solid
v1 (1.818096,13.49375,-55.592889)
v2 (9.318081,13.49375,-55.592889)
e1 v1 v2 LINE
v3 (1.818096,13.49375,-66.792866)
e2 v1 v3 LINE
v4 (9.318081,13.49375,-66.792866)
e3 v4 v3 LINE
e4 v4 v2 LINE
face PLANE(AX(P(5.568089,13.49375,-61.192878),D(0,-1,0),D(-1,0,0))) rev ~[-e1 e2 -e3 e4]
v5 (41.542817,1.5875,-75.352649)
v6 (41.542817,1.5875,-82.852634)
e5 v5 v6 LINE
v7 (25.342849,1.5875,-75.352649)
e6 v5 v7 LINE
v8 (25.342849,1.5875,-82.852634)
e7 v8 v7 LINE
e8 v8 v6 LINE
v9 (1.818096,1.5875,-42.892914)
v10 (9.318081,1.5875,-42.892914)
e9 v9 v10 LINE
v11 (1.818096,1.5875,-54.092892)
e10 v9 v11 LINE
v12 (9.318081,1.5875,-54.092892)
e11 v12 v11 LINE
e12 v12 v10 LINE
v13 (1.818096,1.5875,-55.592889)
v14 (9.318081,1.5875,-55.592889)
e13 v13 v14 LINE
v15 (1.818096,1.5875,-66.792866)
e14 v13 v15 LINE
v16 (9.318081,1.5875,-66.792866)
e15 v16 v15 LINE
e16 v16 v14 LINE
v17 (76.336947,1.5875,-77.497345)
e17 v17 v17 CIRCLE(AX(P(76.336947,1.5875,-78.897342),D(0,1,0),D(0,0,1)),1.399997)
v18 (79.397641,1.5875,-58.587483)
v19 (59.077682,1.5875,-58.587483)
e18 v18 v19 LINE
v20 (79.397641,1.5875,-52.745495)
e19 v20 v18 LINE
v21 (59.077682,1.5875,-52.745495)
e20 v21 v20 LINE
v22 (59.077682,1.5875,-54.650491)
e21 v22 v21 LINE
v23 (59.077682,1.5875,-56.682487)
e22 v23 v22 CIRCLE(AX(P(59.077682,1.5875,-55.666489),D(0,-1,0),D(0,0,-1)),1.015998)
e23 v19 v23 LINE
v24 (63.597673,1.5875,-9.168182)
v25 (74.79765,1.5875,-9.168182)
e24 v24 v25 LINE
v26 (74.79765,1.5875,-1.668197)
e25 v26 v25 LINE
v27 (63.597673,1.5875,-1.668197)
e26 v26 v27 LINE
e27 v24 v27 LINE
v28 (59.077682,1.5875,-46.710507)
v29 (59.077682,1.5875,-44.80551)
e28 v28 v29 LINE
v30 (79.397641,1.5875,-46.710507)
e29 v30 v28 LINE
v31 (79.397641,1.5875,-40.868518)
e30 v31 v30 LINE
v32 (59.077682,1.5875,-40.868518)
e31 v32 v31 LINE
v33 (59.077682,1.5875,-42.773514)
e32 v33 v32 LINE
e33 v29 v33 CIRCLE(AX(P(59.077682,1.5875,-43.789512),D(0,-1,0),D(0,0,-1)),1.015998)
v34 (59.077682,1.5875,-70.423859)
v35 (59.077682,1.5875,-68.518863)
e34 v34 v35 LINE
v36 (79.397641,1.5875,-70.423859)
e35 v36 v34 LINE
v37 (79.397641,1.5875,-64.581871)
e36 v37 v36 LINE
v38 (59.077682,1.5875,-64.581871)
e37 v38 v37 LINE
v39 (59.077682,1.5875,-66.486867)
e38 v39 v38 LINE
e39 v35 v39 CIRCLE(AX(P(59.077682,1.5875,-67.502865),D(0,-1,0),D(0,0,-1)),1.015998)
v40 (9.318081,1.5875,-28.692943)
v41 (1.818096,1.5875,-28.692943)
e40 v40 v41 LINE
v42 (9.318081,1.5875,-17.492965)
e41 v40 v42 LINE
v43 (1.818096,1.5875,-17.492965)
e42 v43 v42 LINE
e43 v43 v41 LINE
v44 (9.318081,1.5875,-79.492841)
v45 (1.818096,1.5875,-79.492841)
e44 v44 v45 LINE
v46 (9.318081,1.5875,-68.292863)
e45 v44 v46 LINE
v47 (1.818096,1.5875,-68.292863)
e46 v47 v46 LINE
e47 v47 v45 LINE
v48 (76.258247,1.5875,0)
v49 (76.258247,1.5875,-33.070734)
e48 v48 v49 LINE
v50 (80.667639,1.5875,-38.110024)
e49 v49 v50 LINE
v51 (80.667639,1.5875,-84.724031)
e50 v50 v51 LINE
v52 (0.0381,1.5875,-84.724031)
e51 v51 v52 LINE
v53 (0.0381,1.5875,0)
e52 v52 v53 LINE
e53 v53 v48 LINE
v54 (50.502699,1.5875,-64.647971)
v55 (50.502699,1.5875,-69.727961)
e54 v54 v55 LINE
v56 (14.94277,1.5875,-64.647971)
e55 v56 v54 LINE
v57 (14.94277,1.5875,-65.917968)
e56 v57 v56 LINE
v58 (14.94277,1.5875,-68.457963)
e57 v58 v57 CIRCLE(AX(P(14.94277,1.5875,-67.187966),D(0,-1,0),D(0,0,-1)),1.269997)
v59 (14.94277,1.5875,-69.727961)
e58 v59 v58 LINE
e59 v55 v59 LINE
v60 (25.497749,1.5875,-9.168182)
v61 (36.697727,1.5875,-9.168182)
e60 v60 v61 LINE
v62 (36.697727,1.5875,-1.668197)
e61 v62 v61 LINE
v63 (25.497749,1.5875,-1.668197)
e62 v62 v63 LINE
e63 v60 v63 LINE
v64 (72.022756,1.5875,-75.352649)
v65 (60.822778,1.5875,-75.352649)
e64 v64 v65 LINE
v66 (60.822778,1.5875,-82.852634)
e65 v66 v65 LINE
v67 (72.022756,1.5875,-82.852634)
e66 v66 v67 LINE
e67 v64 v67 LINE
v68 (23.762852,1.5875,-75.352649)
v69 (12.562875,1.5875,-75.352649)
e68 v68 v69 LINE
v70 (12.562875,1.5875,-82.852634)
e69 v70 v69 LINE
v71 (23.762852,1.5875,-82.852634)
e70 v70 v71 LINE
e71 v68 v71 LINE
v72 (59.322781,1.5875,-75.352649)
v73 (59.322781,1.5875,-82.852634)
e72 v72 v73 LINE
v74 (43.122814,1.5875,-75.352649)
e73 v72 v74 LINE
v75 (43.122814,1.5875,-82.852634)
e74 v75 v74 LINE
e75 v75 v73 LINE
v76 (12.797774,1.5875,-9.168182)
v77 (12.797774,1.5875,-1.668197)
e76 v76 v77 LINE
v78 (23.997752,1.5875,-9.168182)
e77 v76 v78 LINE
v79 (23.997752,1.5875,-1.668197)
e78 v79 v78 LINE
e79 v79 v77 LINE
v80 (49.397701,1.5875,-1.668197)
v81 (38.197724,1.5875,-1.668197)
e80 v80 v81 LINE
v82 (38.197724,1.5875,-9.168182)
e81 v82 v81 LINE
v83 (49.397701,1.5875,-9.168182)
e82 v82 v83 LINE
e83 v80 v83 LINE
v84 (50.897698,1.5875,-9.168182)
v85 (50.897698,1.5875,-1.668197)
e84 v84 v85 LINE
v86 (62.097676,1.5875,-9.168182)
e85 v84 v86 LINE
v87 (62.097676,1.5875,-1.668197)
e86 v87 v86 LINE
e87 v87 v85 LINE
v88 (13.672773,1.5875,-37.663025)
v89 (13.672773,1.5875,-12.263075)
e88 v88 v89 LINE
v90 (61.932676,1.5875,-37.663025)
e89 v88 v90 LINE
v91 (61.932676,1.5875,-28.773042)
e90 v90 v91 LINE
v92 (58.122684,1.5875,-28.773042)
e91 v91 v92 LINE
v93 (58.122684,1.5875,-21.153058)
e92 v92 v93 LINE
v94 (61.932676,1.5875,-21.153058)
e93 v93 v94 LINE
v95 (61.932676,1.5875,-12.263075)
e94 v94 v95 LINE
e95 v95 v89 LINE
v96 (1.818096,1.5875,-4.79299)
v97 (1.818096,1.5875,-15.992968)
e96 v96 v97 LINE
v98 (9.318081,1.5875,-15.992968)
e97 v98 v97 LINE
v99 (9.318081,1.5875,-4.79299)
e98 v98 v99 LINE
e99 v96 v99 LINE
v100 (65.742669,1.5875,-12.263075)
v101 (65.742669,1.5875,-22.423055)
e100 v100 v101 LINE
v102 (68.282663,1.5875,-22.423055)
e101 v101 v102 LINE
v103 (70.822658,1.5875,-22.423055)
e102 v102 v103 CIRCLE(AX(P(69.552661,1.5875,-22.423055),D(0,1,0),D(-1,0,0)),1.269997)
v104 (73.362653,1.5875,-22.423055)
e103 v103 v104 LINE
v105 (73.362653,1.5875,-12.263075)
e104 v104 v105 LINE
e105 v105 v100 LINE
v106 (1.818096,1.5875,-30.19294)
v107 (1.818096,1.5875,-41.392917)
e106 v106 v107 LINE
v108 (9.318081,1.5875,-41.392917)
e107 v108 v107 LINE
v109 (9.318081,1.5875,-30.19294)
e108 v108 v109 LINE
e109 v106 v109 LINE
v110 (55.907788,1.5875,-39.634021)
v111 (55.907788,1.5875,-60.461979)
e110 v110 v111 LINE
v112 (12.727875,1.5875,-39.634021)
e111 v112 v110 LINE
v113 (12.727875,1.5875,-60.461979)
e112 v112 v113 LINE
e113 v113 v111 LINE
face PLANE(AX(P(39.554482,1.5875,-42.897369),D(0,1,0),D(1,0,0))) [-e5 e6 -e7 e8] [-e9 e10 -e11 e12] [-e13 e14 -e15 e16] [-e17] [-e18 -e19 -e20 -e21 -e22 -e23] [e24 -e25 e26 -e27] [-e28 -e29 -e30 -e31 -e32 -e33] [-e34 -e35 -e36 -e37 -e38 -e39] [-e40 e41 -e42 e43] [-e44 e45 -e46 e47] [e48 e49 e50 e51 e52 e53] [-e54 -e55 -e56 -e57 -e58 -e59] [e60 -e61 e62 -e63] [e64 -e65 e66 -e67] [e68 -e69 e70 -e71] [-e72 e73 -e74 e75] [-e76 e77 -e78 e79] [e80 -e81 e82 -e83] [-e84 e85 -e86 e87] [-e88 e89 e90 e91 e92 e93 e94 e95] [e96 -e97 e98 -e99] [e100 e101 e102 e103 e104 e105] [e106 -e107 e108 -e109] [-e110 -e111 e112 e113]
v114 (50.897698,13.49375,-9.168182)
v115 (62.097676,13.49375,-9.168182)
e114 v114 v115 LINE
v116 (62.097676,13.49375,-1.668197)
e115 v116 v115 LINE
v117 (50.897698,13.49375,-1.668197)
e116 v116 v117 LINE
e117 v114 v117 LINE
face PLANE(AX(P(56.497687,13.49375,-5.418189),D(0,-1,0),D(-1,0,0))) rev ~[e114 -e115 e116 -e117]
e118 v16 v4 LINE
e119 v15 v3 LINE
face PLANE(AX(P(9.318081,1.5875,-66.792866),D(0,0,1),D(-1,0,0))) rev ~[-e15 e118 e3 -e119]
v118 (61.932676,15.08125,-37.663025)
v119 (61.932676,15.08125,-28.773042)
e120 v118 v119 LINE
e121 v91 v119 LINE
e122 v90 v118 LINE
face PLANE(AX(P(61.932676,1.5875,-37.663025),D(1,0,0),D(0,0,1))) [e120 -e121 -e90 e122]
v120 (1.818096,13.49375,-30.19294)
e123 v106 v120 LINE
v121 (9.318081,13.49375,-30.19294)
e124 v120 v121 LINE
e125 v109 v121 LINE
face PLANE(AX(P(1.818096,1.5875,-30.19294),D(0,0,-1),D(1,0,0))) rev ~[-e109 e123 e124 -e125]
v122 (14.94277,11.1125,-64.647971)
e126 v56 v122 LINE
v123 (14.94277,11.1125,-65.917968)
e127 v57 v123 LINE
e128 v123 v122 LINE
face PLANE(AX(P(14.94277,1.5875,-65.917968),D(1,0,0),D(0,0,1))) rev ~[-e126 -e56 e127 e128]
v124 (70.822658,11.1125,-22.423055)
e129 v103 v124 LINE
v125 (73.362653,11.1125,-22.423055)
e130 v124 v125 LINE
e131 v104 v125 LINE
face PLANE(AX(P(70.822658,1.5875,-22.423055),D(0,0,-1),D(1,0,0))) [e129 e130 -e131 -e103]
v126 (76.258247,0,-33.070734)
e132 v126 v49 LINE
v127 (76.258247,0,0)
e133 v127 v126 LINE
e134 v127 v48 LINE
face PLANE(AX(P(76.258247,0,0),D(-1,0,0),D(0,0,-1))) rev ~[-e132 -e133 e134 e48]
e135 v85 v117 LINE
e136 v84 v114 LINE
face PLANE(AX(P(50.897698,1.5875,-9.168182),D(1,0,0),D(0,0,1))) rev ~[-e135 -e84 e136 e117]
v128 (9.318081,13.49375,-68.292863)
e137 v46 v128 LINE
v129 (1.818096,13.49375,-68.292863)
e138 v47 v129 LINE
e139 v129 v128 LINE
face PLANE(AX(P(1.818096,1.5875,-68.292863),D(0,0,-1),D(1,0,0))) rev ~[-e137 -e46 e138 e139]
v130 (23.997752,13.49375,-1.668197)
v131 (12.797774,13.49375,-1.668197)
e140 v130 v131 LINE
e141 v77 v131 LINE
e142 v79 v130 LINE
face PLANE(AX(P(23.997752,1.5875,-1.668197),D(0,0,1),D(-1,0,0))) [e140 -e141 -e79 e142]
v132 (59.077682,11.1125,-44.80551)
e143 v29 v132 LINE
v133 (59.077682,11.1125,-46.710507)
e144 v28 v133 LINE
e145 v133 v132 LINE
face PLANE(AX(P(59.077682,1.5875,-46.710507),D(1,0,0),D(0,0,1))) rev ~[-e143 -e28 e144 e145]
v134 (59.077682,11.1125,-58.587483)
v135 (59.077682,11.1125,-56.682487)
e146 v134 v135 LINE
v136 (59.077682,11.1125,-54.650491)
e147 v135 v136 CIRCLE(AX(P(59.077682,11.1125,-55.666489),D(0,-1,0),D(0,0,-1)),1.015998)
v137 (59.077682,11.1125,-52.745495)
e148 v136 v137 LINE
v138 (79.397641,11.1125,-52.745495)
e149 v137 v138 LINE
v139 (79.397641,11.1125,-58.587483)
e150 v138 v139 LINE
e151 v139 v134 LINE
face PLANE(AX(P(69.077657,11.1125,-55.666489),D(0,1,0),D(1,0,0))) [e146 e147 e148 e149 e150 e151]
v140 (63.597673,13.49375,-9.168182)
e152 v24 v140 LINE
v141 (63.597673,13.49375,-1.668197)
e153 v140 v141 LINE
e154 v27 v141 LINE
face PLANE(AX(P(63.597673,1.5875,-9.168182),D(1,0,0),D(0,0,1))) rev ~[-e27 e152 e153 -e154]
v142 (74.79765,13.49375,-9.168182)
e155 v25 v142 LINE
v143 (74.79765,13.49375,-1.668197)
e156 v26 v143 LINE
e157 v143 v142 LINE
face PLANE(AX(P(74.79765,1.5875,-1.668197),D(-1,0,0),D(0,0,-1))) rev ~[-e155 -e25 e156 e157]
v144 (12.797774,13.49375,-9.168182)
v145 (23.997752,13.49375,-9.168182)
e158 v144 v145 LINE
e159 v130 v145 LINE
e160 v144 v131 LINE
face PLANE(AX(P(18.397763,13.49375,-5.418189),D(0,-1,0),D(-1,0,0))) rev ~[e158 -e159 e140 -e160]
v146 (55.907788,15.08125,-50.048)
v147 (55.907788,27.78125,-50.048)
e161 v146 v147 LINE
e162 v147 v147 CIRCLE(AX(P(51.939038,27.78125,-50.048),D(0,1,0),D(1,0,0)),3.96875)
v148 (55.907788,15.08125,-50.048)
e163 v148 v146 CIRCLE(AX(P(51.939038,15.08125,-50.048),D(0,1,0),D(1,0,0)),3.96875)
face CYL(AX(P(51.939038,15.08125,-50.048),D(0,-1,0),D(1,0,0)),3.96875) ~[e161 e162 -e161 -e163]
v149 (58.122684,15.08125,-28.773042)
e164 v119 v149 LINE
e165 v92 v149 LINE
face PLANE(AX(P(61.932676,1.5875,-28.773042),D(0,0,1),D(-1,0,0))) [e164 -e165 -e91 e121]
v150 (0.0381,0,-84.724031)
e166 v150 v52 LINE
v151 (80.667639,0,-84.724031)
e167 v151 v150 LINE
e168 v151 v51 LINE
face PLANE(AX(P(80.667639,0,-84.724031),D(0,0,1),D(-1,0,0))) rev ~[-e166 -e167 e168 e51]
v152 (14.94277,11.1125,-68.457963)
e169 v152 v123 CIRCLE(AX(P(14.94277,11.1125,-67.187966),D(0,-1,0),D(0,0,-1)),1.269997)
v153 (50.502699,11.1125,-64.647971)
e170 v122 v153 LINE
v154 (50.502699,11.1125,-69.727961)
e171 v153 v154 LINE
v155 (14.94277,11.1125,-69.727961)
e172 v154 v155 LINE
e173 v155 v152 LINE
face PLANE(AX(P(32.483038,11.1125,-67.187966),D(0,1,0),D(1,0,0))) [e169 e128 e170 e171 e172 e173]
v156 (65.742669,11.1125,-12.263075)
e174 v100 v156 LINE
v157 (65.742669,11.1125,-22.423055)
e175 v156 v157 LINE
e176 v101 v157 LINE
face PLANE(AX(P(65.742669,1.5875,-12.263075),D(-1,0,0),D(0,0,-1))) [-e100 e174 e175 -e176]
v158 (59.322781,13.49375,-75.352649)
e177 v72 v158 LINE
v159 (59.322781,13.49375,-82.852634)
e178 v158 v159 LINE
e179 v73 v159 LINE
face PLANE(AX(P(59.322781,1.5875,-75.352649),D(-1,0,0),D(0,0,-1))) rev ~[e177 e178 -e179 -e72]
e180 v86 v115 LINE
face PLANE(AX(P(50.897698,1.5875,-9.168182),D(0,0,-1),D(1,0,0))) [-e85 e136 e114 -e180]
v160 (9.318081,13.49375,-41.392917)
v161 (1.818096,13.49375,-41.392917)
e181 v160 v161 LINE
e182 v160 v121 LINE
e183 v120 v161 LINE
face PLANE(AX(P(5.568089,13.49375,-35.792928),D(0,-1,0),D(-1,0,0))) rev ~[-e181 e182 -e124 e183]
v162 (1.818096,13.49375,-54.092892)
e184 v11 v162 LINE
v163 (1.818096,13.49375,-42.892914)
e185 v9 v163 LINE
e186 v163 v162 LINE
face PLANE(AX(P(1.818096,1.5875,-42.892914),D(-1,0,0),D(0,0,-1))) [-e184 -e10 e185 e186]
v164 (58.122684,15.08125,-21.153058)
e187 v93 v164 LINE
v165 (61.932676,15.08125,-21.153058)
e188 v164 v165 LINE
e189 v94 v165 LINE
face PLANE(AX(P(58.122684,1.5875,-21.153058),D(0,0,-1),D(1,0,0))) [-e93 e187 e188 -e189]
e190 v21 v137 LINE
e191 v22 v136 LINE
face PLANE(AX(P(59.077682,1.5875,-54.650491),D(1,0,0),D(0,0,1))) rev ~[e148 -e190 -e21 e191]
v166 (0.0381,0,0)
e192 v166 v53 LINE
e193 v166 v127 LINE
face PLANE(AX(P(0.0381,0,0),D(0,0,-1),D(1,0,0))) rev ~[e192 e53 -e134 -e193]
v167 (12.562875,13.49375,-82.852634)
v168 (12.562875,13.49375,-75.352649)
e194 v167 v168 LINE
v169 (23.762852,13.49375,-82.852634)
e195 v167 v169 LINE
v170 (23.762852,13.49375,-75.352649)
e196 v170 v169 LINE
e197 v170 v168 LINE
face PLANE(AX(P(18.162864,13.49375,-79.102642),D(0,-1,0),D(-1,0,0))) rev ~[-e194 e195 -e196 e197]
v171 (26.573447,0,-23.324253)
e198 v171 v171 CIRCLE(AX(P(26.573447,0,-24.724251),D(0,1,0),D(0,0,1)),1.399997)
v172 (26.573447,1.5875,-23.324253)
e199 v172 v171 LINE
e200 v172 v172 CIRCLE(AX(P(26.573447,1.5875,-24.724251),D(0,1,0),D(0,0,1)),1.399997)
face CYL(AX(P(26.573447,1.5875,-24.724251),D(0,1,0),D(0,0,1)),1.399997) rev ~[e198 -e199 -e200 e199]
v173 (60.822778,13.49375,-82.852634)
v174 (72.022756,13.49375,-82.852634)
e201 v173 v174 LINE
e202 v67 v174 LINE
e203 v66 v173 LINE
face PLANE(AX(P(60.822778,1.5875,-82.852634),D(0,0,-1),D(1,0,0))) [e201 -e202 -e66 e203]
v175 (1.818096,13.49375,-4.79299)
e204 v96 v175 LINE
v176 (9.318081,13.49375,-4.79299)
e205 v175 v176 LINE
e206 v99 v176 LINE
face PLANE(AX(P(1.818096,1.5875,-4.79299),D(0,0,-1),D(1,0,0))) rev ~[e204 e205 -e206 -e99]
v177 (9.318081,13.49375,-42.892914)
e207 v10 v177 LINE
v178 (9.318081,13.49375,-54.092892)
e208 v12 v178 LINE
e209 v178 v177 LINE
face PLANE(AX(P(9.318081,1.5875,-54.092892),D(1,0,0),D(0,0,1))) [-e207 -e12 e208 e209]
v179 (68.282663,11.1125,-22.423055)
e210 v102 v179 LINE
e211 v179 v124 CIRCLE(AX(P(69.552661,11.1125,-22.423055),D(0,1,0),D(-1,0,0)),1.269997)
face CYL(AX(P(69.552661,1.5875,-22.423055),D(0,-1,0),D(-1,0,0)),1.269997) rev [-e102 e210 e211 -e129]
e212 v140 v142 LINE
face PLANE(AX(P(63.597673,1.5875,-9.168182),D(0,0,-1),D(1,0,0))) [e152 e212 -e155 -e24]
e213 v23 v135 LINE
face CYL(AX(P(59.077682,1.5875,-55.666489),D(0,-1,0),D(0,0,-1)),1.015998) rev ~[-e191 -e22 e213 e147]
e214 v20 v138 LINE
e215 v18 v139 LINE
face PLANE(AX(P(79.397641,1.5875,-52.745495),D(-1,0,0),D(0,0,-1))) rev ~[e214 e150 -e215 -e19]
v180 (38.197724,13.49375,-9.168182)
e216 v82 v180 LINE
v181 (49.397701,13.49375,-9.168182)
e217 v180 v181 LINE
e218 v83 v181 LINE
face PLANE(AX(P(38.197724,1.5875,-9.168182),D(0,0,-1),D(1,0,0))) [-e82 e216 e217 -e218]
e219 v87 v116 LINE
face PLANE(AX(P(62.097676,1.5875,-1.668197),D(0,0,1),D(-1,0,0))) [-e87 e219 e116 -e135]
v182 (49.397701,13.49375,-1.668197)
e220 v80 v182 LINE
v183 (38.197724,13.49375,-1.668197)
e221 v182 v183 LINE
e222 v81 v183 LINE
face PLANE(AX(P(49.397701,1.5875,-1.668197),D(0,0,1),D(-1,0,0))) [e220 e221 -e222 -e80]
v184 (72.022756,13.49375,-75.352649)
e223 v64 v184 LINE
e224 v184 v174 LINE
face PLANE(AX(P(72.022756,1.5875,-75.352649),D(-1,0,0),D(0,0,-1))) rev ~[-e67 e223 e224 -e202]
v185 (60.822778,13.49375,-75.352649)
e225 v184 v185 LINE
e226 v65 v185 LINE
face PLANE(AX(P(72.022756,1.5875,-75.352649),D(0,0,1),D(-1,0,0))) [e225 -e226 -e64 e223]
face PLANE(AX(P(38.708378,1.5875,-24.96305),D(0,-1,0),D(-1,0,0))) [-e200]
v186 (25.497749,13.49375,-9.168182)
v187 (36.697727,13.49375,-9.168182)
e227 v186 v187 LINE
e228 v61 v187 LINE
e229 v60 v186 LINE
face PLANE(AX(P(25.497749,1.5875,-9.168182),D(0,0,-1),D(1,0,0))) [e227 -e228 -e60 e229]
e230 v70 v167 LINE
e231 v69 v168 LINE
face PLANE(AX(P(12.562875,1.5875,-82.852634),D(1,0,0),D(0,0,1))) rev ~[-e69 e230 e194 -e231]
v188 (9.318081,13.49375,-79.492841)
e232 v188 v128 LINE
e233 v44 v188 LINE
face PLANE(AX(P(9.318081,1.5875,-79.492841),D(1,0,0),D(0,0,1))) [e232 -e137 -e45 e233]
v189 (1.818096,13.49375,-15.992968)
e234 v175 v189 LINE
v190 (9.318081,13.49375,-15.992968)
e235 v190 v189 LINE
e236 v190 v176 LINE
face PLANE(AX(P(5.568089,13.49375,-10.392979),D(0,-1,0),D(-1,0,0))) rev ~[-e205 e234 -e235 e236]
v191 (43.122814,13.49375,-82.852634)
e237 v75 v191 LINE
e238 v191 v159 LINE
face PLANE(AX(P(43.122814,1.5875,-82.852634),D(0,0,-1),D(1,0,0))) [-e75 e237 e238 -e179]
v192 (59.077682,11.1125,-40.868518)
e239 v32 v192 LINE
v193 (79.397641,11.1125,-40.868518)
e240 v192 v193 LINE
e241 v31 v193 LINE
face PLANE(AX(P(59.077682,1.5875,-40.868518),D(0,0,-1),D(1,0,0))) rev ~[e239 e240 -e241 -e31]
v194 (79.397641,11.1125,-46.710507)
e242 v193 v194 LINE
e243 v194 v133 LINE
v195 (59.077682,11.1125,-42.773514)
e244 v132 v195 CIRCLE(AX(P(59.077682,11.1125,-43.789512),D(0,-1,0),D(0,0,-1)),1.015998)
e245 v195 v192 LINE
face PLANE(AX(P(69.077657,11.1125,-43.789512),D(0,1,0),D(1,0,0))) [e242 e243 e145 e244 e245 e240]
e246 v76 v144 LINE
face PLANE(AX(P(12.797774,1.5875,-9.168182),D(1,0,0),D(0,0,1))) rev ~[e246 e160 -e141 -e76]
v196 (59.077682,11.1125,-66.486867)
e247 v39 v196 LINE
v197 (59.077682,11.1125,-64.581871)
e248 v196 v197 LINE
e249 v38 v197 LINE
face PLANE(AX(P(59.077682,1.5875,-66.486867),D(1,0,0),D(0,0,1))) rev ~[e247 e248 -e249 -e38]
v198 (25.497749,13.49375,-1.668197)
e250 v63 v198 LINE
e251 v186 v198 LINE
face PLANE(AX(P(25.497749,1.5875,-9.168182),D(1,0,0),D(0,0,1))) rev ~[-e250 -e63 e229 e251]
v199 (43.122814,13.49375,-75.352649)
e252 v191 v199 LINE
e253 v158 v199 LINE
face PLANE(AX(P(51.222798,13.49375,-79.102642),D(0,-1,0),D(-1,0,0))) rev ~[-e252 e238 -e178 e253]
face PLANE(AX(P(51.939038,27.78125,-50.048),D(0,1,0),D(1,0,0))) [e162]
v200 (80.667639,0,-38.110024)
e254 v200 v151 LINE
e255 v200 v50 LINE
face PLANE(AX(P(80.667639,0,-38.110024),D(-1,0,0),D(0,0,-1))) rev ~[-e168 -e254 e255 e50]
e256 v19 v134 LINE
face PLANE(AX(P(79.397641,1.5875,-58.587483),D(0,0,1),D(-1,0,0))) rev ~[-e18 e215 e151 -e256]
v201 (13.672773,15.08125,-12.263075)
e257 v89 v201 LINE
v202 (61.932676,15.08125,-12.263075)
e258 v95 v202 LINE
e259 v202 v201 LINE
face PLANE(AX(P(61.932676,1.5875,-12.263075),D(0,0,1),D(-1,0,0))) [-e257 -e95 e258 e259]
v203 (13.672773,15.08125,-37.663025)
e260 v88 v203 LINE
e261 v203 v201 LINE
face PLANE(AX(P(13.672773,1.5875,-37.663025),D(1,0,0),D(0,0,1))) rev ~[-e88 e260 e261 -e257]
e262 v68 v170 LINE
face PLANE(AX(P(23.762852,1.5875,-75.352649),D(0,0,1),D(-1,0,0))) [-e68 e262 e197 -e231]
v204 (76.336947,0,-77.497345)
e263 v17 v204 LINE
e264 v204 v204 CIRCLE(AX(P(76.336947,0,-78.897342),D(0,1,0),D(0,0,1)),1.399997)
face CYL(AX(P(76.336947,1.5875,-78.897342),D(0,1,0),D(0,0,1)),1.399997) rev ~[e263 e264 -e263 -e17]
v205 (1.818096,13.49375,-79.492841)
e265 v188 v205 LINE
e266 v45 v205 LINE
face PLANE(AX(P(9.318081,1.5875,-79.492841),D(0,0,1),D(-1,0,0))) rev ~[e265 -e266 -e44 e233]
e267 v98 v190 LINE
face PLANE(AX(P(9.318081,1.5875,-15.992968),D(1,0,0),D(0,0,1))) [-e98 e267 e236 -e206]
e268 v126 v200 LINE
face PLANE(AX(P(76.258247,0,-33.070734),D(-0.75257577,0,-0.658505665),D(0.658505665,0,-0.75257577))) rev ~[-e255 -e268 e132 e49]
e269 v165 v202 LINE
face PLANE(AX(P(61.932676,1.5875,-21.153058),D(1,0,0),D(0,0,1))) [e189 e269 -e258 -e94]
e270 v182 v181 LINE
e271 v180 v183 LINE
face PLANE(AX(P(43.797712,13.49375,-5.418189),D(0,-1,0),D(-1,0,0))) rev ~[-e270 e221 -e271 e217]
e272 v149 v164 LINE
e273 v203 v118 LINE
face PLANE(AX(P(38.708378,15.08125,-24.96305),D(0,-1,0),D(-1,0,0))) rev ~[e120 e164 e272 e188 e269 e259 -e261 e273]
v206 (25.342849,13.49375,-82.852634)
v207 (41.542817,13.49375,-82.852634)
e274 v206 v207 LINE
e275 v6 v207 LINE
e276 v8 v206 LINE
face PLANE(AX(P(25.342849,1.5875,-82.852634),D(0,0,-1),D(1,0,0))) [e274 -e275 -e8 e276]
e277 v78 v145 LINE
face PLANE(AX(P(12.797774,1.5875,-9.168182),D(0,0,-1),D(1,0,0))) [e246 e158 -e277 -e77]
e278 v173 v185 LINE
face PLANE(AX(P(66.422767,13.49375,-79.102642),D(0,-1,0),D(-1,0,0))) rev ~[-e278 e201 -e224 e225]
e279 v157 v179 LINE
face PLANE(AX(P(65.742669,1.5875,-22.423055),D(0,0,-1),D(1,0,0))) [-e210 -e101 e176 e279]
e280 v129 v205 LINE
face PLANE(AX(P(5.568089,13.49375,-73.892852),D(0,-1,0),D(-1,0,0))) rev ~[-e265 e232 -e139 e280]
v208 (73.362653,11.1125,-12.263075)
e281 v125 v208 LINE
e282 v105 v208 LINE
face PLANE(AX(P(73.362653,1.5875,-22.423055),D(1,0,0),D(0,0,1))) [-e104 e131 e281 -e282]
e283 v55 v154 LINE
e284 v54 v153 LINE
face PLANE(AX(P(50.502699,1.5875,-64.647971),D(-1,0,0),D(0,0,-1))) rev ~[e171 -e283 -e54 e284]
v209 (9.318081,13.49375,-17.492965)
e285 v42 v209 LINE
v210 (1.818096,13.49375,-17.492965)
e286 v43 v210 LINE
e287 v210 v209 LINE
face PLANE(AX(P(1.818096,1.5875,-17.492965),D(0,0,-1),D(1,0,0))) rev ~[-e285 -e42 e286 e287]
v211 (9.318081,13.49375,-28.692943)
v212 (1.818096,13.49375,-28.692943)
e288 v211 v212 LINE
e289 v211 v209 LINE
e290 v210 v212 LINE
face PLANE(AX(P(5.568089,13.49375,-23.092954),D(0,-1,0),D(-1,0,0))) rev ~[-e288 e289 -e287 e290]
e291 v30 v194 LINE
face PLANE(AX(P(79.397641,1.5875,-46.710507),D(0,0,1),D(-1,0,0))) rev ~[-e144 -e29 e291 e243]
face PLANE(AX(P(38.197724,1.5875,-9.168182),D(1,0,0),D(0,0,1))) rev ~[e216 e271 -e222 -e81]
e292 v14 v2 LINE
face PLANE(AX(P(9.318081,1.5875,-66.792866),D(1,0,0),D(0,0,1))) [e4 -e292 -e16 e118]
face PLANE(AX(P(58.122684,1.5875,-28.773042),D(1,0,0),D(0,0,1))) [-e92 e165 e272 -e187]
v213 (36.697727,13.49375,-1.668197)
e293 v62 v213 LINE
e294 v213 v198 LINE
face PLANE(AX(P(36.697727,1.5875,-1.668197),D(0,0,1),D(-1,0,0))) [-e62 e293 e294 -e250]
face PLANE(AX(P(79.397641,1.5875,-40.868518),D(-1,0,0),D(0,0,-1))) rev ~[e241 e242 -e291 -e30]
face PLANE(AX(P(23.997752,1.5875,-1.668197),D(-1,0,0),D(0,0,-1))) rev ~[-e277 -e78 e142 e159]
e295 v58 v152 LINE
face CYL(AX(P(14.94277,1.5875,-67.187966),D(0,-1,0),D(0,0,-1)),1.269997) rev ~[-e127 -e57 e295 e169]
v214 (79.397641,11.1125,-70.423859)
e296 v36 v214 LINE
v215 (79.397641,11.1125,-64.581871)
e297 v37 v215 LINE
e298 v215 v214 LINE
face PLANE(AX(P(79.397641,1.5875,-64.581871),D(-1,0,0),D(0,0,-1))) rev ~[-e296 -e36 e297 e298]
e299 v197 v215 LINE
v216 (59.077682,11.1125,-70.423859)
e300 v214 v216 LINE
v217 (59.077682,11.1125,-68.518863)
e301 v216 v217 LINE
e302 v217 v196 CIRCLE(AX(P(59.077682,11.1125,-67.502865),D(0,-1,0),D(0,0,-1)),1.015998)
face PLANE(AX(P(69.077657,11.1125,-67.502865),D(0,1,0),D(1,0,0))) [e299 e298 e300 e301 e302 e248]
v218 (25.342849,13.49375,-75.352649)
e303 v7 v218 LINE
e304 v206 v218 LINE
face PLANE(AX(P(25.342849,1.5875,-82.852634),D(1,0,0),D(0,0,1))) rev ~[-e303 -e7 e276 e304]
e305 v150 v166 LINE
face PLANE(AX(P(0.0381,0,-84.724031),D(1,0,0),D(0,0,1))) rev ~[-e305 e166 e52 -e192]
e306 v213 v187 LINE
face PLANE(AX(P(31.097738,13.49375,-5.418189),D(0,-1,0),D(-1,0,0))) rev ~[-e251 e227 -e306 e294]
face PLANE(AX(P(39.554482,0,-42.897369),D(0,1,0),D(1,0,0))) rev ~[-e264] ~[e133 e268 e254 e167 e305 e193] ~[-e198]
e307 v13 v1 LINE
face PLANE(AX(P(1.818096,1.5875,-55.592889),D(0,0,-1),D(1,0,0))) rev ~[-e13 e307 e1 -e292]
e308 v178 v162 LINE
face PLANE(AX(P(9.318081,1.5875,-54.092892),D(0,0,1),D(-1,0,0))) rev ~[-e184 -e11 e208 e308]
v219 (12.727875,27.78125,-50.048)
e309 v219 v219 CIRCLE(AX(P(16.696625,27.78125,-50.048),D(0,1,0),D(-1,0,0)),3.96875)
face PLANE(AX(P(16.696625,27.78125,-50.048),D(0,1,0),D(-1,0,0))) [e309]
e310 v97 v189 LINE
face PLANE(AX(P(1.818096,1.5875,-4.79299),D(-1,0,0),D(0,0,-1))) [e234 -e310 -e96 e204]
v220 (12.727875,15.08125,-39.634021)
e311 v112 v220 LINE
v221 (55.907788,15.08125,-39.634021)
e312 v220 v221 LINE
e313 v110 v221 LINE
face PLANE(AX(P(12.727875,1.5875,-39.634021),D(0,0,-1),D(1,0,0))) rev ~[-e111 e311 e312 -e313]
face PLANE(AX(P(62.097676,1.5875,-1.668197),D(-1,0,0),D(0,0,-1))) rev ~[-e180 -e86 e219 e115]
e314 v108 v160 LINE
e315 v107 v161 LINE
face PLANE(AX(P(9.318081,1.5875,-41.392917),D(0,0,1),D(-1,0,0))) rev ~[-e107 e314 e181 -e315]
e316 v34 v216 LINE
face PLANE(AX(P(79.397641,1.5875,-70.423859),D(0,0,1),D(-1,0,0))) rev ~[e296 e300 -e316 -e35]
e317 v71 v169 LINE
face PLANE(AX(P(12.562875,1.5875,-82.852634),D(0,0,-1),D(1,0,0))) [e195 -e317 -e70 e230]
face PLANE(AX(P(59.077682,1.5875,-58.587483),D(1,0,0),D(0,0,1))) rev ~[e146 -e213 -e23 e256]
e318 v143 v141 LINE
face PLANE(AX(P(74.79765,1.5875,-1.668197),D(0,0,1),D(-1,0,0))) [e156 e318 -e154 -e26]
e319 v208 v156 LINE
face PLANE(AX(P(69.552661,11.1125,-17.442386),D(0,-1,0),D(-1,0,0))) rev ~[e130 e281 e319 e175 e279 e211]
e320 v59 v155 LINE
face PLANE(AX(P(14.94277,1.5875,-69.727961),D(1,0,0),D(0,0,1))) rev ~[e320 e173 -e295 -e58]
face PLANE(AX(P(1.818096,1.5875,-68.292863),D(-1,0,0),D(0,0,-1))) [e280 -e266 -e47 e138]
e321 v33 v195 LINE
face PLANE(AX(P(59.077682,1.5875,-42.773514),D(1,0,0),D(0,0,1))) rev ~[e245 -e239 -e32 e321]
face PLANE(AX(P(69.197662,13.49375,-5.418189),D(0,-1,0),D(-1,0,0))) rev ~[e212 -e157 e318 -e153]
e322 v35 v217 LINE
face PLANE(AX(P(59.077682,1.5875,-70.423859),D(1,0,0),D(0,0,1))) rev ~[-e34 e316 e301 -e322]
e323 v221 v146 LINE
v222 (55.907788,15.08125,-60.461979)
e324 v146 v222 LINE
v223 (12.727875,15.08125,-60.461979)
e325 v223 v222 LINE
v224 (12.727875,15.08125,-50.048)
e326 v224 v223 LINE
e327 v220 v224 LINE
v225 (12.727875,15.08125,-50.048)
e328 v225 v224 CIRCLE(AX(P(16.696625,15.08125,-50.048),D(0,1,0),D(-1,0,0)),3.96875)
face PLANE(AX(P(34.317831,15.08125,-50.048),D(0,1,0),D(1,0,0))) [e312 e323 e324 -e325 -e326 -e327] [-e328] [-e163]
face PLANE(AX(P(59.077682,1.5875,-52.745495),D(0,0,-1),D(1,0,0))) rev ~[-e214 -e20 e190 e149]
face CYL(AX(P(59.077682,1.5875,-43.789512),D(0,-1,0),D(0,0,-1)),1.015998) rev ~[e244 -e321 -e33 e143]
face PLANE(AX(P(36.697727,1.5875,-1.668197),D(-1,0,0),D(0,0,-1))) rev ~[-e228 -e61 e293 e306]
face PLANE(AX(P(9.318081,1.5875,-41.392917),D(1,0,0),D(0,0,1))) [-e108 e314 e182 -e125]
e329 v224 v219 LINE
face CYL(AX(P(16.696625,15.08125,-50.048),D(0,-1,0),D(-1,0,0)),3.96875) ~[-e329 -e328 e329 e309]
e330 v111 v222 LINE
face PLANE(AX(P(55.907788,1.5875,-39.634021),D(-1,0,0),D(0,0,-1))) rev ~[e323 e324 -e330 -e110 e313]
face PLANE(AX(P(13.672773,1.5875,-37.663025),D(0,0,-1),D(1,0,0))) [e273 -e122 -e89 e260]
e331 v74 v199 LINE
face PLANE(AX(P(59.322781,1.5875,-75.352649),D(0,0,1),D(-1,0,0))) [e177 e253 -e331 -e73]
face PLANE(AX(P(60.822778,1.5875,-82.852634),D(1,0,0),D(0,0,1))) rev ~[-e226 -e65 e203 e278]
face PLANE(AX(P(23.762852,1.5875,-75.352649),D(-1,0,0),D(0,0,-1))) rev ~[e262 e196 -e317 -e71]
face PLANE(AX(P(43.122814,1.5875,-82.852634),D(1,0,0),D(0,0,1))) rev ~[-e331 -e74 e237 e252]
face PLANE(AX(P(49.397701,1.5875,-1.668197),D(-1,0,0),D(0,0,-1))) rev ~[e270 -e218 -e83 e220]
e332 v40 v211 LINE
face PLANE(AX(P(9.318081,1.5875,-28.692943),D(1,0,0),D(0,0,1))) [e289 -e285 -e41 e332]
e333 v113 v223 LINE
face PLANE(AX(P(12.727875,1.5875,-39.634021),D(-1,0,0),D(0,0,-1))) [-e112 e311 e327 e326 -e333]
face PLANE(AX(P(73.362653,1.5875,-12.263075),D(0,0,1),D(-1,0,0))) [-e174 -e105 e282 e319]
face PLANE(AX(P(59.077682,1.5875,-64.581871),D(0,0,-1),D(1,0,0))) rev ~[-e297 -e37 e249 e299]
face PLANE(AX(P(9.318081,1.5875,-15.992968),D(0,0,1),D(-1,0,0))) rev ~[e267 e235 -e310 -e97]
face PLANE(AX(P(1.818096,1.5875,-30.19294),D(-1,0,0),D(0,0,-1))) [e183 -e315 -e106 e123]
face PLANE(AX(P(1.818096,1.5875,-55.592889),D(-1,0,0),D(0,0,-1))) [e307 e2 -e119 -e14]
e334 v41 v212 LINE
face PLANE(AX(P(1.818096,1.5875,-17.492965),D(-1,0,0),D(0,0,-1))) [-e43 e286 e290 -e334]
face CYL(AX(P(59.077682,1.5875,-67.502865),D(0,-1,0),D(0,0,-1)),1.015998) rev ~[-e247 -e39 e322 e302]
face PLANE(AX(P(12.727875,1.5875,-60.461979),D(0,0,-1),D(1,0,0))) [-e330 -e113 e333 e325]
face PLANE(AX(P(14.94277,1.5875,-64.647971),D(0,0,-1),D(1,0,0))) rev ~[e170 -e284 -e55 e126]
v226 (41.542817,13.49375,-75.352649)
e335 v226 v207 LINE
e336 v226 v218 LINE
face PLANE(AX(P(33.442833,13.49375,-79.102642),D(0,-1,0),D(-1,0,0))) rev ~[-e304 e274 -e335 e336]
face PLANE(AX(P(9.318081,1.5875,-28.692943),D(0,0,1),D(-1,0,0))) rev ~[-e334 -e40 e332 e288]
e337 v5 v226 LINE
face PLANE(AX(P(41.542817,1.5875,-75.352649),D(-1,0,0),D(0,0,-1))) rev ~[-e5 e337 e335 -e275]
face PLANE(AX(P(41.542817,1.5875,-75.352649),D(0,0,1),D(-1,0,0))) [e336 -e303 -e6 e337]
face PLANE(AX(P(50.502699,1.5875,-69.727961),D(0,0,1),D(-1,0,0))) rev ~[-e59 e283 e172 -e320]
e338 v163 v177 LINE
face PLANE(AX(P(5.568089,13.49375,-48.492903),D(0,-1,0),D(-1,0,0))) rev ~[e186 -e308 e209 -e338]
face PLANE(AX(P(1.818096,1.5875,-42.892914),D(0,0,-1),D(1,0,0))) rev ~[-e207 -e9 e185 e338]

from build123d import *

# Parameters (mm, degrees)
BOSS_EXTRUDE1_DEPTH = 1.5875
SKETCH2_R           = 1.3999972
CUT_EXTRUDE1_DEPTH  = 117.995510328
BOSS_EXTRUDE2_DEPTH = 11.90625
SKETCH4_W           = 43.17991364
SKETCH4_H           = 20.827958344
BOSS_EXTRUDE3_DEPTH = 13.49375
SKETCH6_R           = 3.96875
BOSS_EXTRUDE4_DEPTH = 12.7
BOSS_EXTRUDE5_DEPTH = 9.525


with BuildPart() as part:
    # Sketch1 → Boss-Extrude1 (new body)
    with BuildSketch(Plane(origin=(0, 0, 0), x_dir=(1, 0, 0), z_dir=(0, 1, 0))):
        Polygon((0.038099924, 84.724030552), (0.038099924, 0), (76.258247483, 0), (76.258247483, 33.070733858), (80.667638664, 38.11002378), (80.667638664, 84.724030552), align=None)
    extrude(amount=BOSS_EXTRUDE1_DEPTH)

    # Sketch2 → Cut-Extrude1 (cut, through all)
    with BuildSketch(Plane(origin=(0, 1.5875, 0), x_dir=(1, 0, 0), z_dir=(0, 1, 0))):
        with Locations((76.336947326, 78.897342205)):
            Circle(SKETCH2_R)
        with Locations((26.573446853, 24.724250551)):
            Circle(SKETCH2_R)
    extrude(amount=-CUT_EXTRUDE1_DEPTH, mode=Mode.SUBTRACT)

    # Sketch3 → Boss-Extrude2 (add)
    with BuildSketch(Plane(origin=(0, 1.5875, 0), x_dir=(1, 0, 0), z_dir=(0, 1, 0))):
        Polygon((60.822778354, 75.352649294), (60.822778354, 81.852636294), (60.822778354, 82.852634294), (72.022755954, 82.852634294), (72.022755954, 81.852636294), (72.022755954, 75.352649294), align=None)
        Polygon((59.322781354, 82.852634294), (59.322781354, 81.852636294), (59.322781354, 75.352649294), (43.122813754, 75.352649294), (43.122813754, 81.852636294), (43.122813754, 82.852634294), align=None)
        Polygon((25.342849314, 75.352649294), (25.342849314, 81.852636294), (25.342849314, 82.852634294), (41.542816914, 82.852634294), (41.542816914, 81.852636294), (41.542816914, 75.352649294), align=None)
        Polygon((63.597672804, 1.668196664), (63.597672804, 2.668194664), (63.597672804, 9.168181664), (74.797650404, 9.168181664), (74.797650404, 2.668194664), (74.797650404, 1.668196664), align=None)
        Polygon((50.897698204, 1.668196664), (50.897698204, 2.668194664), (50.897698204, 9.168181664), (62.097675804, 9.168181664), (62.097675804, 2.668194664), (62.097675804, 1.668196664), align=None)
        Polygon((38.197723604, 1.668196664), (38.197723604, 2.668194664), (38.197723604, 9.168181664), (49.397701204, 9.168181664), (49.397701204, 2.668194664), (49.397701204, 1.668196664), align=None)
        Polygon((36.697726604, 9.168181664), (36.697726604, 2.668194664), (36.697726604, 1.668196664), (25.497749004, 1.668196664), (25.497749004, 2.668194664), (25.497749004, 9.168181664), align=None)
        Polygon((12.797774404, 1.668196664), (12.797774404, 2.668194664), (12.797774404, 9.168181664), (23.997752004, 9.168181664), (23.997752004, 2.668194664), (23.997752004, 1.668196664), align=None)
        Polygon((9.318081364, 4.792990414), (2.818094364, 4.792990414), (1.818096364, 4.792990414), (1.818096364, 15.992968014), (2.818094364, 15.992968014), (9.318081364, 15.992968014), align=None)
        Polygon((1.818096364, 28.692942614), (2.818094364, 28.692942614), (9.318081364, 28.692942614), (9.318081364, 17.492965014), (2.818094364, 17.492965014), (1.818096364, 17.492965014), align=None)
        Polygon((9.318081364, 30.192939614), (2.818094364, 30.192939614), (1.818096364, 30.192939614), (1.818096364, 41.392917214), (2.818094364, 41.392917214), (9.318081364, 41.392917214), align=None)
        Polygon((9.318081364, 42.892914214), (2.818094364, 42.892914214), (1.818096364, 42.892914214), (1.818096364, 54.092891814), (2.818094364, 54.092891814), (9.318081364, 54.092891814), align=None)
        Polygon((1.818096364, 66.792866414), (2.818094364, 66.792866414), (9.318081364, 66.792866414), (9.318081364, 55.592888814), (2.818094364, 55.592888814), (1.818096364, 55.592888814), align=None)
        Polygon((12.562874874, 75.352649294), (12.562874874, 81.852636294), (12.562874874, 82.852634294), (23.762852474, 82.852634294), (23.762852474, 81.852636294), (23.762852474, 75.352649294), align=None)
        Polygon((1.818096364, 79.492841014), (2.818094364, 79.492841014), (9.318081364, 79.492841014), (9.318081364, 68.292863414), (2.818094364, 68.292863414), (1.818096364, 68.292863414), align=None)
    extrude(amount=BOSS_EXTRUDE2_DEPTH)

    # Sketch4 → Boss-Extrude3 (add)
    with BuildSketch(Plane(origin=(0, 1.5875, 0), x_dir=(1, 0, 0), z_dir=(0, 1, 0))):
        with Locations((34.317831364, 50.047999904)):
            Rectangle(SKETCH4_W, SKETCH4_H)
        Polygon((13.672772654, 17.343065314), (13.672772654, 32.583034834), (13.672772654, 37.663024674), (61.932676134, 37.663024674), (61.932676134, 28.773042454), (58.122683754, 28.773042454), (58.122683754, 21.153057694), (61.932676134, 21.153057694), (61.932676134, 12.263075474), (13.672772654, 12.263075474), align=None)
    extrude(amount=BOSS_EXTRUDE3_DEPTH)

    # Sketch6 → Boss-Extrude4 (add)
    with BuildSketch(Plane(origin=(0, 15.08125, 0), x_dir=(1, 0, 0), z_dir=(0, 1, 0))):
        with Locations((16.696624544, 50.047999904)):
            Circle(SKETCH6_R)
        with Locations((51.939038184, 50.047999904)):
            Circle(SKETCH6_R)
    extrude(amount=BOSS_EXTRUDE4_DEPTH)

    # Sketch7 → Boss-Extrude5 (add)
    with BuildSketch(Plane(origin=(0, 1.5875, 0), x_dir=(1, 0, 0), z_dir=(0, 1, 0))):
        with BuildLine():
            Line((73.362653274, 22.423055154), (73.362653274, 12.263075474))
            Line((73.362653274, 12.263075474), (65.742668514, 12.263075474))
            Line((65.742668514, 12.263075474), (65.742668514, 22.423055154))
            Line((65.742668514, 22.423055154), (68.282663434, 22.423055154))
            ThreePointArc((68.282663434, 22.423055154), (69.552660894, 21.153057694), (70.822658354, 22.423055154))
            Line((70.822658354, 22.423055154), (73.362653274, 22.423055154))
        make_face()
        with BuildLine():
            Line((79.397641204, 46.710506579), (59.077681844, 46.710506579))
            Line((59.077681844, 46.710506579), (59.077681844, 44.805510389))
            ThreePointArc((59.077681844, 44.805510389), (60.093679812, 43.789512421), (59.077681844, 42.773514453))
            Line((59.077681844, 42.773514453), (59.077681844, 40.868518263))
            Line((59.077681844, 40.868518263), (79.397641204, 40.868518263))
            Line((79.397641204, 40.868518263), (79.397641204, 46.710506579))
        make_face()
        with BuildLine():
            Line((79.397641204, 58.587482825), (59.077681844, 58.587482825))
            Line((59.077681844, 58.587482825), (59.077681844, 56.682486635))
            ThreePointArc((59.077681844, 56.682486635), (60.093679812, 55.666488667), (59.077681844, 54.650490699))
            Line((59.077681844, 54.650490699), (59.077681844, 52.745494509))
            Line((59.077681844, 52.745494509), (79.397641204, 52.745494509))
            Line((79.397641204, 52.745494509), (79.397641204, 58.587482825))
        make_face()
        with BuildLine():
            Line((79.397641204, 70.423859152), (59.077681844, 70.423859152))
            Line((59.077681844, 70.423859152), (59.077681844, 68.518862962))
            ThreePointArc((59.077681844, 68.518862962), (60.093679812, 67.502864994), (59.077681844, 66.486867026))
            Line((59.077681844, 66.486867026), (59.077681844, 64.581870836))
            Line((59.077681844, 64.581870836), (79.397641204, 64.581870836))
            Line((79.397641204, 64.581870836), (79.397641204, 70.423859152))
        make_face()
        with BuildLine():
            Line((14.942770114, 65.917968164), (14.942770114, 64.647970704))
            Line((14.942770114, 64.647970704), (15.06976986, 64.647970704))
            Line((15.06976986, 64.647970704), (50.502698994, 64.647970704))
            Line((50.502698994, 64.647970704), (50.502698994, 69.727960544))
            Line((50.502698994, 69.727960544), (14.942770114, 69.727960544))
            Line((14.942770114, 69.727960544), (14.942770114, 68.457963084))
            ThreePointArc((14.942770114, 68.457963084), (16.212767574, 67.187965624), (14.942770114, 65.917968164))
        make_face()
    extrude(amount=BOSS_EXTRUDE5_DEPTH)


solid = part.part
